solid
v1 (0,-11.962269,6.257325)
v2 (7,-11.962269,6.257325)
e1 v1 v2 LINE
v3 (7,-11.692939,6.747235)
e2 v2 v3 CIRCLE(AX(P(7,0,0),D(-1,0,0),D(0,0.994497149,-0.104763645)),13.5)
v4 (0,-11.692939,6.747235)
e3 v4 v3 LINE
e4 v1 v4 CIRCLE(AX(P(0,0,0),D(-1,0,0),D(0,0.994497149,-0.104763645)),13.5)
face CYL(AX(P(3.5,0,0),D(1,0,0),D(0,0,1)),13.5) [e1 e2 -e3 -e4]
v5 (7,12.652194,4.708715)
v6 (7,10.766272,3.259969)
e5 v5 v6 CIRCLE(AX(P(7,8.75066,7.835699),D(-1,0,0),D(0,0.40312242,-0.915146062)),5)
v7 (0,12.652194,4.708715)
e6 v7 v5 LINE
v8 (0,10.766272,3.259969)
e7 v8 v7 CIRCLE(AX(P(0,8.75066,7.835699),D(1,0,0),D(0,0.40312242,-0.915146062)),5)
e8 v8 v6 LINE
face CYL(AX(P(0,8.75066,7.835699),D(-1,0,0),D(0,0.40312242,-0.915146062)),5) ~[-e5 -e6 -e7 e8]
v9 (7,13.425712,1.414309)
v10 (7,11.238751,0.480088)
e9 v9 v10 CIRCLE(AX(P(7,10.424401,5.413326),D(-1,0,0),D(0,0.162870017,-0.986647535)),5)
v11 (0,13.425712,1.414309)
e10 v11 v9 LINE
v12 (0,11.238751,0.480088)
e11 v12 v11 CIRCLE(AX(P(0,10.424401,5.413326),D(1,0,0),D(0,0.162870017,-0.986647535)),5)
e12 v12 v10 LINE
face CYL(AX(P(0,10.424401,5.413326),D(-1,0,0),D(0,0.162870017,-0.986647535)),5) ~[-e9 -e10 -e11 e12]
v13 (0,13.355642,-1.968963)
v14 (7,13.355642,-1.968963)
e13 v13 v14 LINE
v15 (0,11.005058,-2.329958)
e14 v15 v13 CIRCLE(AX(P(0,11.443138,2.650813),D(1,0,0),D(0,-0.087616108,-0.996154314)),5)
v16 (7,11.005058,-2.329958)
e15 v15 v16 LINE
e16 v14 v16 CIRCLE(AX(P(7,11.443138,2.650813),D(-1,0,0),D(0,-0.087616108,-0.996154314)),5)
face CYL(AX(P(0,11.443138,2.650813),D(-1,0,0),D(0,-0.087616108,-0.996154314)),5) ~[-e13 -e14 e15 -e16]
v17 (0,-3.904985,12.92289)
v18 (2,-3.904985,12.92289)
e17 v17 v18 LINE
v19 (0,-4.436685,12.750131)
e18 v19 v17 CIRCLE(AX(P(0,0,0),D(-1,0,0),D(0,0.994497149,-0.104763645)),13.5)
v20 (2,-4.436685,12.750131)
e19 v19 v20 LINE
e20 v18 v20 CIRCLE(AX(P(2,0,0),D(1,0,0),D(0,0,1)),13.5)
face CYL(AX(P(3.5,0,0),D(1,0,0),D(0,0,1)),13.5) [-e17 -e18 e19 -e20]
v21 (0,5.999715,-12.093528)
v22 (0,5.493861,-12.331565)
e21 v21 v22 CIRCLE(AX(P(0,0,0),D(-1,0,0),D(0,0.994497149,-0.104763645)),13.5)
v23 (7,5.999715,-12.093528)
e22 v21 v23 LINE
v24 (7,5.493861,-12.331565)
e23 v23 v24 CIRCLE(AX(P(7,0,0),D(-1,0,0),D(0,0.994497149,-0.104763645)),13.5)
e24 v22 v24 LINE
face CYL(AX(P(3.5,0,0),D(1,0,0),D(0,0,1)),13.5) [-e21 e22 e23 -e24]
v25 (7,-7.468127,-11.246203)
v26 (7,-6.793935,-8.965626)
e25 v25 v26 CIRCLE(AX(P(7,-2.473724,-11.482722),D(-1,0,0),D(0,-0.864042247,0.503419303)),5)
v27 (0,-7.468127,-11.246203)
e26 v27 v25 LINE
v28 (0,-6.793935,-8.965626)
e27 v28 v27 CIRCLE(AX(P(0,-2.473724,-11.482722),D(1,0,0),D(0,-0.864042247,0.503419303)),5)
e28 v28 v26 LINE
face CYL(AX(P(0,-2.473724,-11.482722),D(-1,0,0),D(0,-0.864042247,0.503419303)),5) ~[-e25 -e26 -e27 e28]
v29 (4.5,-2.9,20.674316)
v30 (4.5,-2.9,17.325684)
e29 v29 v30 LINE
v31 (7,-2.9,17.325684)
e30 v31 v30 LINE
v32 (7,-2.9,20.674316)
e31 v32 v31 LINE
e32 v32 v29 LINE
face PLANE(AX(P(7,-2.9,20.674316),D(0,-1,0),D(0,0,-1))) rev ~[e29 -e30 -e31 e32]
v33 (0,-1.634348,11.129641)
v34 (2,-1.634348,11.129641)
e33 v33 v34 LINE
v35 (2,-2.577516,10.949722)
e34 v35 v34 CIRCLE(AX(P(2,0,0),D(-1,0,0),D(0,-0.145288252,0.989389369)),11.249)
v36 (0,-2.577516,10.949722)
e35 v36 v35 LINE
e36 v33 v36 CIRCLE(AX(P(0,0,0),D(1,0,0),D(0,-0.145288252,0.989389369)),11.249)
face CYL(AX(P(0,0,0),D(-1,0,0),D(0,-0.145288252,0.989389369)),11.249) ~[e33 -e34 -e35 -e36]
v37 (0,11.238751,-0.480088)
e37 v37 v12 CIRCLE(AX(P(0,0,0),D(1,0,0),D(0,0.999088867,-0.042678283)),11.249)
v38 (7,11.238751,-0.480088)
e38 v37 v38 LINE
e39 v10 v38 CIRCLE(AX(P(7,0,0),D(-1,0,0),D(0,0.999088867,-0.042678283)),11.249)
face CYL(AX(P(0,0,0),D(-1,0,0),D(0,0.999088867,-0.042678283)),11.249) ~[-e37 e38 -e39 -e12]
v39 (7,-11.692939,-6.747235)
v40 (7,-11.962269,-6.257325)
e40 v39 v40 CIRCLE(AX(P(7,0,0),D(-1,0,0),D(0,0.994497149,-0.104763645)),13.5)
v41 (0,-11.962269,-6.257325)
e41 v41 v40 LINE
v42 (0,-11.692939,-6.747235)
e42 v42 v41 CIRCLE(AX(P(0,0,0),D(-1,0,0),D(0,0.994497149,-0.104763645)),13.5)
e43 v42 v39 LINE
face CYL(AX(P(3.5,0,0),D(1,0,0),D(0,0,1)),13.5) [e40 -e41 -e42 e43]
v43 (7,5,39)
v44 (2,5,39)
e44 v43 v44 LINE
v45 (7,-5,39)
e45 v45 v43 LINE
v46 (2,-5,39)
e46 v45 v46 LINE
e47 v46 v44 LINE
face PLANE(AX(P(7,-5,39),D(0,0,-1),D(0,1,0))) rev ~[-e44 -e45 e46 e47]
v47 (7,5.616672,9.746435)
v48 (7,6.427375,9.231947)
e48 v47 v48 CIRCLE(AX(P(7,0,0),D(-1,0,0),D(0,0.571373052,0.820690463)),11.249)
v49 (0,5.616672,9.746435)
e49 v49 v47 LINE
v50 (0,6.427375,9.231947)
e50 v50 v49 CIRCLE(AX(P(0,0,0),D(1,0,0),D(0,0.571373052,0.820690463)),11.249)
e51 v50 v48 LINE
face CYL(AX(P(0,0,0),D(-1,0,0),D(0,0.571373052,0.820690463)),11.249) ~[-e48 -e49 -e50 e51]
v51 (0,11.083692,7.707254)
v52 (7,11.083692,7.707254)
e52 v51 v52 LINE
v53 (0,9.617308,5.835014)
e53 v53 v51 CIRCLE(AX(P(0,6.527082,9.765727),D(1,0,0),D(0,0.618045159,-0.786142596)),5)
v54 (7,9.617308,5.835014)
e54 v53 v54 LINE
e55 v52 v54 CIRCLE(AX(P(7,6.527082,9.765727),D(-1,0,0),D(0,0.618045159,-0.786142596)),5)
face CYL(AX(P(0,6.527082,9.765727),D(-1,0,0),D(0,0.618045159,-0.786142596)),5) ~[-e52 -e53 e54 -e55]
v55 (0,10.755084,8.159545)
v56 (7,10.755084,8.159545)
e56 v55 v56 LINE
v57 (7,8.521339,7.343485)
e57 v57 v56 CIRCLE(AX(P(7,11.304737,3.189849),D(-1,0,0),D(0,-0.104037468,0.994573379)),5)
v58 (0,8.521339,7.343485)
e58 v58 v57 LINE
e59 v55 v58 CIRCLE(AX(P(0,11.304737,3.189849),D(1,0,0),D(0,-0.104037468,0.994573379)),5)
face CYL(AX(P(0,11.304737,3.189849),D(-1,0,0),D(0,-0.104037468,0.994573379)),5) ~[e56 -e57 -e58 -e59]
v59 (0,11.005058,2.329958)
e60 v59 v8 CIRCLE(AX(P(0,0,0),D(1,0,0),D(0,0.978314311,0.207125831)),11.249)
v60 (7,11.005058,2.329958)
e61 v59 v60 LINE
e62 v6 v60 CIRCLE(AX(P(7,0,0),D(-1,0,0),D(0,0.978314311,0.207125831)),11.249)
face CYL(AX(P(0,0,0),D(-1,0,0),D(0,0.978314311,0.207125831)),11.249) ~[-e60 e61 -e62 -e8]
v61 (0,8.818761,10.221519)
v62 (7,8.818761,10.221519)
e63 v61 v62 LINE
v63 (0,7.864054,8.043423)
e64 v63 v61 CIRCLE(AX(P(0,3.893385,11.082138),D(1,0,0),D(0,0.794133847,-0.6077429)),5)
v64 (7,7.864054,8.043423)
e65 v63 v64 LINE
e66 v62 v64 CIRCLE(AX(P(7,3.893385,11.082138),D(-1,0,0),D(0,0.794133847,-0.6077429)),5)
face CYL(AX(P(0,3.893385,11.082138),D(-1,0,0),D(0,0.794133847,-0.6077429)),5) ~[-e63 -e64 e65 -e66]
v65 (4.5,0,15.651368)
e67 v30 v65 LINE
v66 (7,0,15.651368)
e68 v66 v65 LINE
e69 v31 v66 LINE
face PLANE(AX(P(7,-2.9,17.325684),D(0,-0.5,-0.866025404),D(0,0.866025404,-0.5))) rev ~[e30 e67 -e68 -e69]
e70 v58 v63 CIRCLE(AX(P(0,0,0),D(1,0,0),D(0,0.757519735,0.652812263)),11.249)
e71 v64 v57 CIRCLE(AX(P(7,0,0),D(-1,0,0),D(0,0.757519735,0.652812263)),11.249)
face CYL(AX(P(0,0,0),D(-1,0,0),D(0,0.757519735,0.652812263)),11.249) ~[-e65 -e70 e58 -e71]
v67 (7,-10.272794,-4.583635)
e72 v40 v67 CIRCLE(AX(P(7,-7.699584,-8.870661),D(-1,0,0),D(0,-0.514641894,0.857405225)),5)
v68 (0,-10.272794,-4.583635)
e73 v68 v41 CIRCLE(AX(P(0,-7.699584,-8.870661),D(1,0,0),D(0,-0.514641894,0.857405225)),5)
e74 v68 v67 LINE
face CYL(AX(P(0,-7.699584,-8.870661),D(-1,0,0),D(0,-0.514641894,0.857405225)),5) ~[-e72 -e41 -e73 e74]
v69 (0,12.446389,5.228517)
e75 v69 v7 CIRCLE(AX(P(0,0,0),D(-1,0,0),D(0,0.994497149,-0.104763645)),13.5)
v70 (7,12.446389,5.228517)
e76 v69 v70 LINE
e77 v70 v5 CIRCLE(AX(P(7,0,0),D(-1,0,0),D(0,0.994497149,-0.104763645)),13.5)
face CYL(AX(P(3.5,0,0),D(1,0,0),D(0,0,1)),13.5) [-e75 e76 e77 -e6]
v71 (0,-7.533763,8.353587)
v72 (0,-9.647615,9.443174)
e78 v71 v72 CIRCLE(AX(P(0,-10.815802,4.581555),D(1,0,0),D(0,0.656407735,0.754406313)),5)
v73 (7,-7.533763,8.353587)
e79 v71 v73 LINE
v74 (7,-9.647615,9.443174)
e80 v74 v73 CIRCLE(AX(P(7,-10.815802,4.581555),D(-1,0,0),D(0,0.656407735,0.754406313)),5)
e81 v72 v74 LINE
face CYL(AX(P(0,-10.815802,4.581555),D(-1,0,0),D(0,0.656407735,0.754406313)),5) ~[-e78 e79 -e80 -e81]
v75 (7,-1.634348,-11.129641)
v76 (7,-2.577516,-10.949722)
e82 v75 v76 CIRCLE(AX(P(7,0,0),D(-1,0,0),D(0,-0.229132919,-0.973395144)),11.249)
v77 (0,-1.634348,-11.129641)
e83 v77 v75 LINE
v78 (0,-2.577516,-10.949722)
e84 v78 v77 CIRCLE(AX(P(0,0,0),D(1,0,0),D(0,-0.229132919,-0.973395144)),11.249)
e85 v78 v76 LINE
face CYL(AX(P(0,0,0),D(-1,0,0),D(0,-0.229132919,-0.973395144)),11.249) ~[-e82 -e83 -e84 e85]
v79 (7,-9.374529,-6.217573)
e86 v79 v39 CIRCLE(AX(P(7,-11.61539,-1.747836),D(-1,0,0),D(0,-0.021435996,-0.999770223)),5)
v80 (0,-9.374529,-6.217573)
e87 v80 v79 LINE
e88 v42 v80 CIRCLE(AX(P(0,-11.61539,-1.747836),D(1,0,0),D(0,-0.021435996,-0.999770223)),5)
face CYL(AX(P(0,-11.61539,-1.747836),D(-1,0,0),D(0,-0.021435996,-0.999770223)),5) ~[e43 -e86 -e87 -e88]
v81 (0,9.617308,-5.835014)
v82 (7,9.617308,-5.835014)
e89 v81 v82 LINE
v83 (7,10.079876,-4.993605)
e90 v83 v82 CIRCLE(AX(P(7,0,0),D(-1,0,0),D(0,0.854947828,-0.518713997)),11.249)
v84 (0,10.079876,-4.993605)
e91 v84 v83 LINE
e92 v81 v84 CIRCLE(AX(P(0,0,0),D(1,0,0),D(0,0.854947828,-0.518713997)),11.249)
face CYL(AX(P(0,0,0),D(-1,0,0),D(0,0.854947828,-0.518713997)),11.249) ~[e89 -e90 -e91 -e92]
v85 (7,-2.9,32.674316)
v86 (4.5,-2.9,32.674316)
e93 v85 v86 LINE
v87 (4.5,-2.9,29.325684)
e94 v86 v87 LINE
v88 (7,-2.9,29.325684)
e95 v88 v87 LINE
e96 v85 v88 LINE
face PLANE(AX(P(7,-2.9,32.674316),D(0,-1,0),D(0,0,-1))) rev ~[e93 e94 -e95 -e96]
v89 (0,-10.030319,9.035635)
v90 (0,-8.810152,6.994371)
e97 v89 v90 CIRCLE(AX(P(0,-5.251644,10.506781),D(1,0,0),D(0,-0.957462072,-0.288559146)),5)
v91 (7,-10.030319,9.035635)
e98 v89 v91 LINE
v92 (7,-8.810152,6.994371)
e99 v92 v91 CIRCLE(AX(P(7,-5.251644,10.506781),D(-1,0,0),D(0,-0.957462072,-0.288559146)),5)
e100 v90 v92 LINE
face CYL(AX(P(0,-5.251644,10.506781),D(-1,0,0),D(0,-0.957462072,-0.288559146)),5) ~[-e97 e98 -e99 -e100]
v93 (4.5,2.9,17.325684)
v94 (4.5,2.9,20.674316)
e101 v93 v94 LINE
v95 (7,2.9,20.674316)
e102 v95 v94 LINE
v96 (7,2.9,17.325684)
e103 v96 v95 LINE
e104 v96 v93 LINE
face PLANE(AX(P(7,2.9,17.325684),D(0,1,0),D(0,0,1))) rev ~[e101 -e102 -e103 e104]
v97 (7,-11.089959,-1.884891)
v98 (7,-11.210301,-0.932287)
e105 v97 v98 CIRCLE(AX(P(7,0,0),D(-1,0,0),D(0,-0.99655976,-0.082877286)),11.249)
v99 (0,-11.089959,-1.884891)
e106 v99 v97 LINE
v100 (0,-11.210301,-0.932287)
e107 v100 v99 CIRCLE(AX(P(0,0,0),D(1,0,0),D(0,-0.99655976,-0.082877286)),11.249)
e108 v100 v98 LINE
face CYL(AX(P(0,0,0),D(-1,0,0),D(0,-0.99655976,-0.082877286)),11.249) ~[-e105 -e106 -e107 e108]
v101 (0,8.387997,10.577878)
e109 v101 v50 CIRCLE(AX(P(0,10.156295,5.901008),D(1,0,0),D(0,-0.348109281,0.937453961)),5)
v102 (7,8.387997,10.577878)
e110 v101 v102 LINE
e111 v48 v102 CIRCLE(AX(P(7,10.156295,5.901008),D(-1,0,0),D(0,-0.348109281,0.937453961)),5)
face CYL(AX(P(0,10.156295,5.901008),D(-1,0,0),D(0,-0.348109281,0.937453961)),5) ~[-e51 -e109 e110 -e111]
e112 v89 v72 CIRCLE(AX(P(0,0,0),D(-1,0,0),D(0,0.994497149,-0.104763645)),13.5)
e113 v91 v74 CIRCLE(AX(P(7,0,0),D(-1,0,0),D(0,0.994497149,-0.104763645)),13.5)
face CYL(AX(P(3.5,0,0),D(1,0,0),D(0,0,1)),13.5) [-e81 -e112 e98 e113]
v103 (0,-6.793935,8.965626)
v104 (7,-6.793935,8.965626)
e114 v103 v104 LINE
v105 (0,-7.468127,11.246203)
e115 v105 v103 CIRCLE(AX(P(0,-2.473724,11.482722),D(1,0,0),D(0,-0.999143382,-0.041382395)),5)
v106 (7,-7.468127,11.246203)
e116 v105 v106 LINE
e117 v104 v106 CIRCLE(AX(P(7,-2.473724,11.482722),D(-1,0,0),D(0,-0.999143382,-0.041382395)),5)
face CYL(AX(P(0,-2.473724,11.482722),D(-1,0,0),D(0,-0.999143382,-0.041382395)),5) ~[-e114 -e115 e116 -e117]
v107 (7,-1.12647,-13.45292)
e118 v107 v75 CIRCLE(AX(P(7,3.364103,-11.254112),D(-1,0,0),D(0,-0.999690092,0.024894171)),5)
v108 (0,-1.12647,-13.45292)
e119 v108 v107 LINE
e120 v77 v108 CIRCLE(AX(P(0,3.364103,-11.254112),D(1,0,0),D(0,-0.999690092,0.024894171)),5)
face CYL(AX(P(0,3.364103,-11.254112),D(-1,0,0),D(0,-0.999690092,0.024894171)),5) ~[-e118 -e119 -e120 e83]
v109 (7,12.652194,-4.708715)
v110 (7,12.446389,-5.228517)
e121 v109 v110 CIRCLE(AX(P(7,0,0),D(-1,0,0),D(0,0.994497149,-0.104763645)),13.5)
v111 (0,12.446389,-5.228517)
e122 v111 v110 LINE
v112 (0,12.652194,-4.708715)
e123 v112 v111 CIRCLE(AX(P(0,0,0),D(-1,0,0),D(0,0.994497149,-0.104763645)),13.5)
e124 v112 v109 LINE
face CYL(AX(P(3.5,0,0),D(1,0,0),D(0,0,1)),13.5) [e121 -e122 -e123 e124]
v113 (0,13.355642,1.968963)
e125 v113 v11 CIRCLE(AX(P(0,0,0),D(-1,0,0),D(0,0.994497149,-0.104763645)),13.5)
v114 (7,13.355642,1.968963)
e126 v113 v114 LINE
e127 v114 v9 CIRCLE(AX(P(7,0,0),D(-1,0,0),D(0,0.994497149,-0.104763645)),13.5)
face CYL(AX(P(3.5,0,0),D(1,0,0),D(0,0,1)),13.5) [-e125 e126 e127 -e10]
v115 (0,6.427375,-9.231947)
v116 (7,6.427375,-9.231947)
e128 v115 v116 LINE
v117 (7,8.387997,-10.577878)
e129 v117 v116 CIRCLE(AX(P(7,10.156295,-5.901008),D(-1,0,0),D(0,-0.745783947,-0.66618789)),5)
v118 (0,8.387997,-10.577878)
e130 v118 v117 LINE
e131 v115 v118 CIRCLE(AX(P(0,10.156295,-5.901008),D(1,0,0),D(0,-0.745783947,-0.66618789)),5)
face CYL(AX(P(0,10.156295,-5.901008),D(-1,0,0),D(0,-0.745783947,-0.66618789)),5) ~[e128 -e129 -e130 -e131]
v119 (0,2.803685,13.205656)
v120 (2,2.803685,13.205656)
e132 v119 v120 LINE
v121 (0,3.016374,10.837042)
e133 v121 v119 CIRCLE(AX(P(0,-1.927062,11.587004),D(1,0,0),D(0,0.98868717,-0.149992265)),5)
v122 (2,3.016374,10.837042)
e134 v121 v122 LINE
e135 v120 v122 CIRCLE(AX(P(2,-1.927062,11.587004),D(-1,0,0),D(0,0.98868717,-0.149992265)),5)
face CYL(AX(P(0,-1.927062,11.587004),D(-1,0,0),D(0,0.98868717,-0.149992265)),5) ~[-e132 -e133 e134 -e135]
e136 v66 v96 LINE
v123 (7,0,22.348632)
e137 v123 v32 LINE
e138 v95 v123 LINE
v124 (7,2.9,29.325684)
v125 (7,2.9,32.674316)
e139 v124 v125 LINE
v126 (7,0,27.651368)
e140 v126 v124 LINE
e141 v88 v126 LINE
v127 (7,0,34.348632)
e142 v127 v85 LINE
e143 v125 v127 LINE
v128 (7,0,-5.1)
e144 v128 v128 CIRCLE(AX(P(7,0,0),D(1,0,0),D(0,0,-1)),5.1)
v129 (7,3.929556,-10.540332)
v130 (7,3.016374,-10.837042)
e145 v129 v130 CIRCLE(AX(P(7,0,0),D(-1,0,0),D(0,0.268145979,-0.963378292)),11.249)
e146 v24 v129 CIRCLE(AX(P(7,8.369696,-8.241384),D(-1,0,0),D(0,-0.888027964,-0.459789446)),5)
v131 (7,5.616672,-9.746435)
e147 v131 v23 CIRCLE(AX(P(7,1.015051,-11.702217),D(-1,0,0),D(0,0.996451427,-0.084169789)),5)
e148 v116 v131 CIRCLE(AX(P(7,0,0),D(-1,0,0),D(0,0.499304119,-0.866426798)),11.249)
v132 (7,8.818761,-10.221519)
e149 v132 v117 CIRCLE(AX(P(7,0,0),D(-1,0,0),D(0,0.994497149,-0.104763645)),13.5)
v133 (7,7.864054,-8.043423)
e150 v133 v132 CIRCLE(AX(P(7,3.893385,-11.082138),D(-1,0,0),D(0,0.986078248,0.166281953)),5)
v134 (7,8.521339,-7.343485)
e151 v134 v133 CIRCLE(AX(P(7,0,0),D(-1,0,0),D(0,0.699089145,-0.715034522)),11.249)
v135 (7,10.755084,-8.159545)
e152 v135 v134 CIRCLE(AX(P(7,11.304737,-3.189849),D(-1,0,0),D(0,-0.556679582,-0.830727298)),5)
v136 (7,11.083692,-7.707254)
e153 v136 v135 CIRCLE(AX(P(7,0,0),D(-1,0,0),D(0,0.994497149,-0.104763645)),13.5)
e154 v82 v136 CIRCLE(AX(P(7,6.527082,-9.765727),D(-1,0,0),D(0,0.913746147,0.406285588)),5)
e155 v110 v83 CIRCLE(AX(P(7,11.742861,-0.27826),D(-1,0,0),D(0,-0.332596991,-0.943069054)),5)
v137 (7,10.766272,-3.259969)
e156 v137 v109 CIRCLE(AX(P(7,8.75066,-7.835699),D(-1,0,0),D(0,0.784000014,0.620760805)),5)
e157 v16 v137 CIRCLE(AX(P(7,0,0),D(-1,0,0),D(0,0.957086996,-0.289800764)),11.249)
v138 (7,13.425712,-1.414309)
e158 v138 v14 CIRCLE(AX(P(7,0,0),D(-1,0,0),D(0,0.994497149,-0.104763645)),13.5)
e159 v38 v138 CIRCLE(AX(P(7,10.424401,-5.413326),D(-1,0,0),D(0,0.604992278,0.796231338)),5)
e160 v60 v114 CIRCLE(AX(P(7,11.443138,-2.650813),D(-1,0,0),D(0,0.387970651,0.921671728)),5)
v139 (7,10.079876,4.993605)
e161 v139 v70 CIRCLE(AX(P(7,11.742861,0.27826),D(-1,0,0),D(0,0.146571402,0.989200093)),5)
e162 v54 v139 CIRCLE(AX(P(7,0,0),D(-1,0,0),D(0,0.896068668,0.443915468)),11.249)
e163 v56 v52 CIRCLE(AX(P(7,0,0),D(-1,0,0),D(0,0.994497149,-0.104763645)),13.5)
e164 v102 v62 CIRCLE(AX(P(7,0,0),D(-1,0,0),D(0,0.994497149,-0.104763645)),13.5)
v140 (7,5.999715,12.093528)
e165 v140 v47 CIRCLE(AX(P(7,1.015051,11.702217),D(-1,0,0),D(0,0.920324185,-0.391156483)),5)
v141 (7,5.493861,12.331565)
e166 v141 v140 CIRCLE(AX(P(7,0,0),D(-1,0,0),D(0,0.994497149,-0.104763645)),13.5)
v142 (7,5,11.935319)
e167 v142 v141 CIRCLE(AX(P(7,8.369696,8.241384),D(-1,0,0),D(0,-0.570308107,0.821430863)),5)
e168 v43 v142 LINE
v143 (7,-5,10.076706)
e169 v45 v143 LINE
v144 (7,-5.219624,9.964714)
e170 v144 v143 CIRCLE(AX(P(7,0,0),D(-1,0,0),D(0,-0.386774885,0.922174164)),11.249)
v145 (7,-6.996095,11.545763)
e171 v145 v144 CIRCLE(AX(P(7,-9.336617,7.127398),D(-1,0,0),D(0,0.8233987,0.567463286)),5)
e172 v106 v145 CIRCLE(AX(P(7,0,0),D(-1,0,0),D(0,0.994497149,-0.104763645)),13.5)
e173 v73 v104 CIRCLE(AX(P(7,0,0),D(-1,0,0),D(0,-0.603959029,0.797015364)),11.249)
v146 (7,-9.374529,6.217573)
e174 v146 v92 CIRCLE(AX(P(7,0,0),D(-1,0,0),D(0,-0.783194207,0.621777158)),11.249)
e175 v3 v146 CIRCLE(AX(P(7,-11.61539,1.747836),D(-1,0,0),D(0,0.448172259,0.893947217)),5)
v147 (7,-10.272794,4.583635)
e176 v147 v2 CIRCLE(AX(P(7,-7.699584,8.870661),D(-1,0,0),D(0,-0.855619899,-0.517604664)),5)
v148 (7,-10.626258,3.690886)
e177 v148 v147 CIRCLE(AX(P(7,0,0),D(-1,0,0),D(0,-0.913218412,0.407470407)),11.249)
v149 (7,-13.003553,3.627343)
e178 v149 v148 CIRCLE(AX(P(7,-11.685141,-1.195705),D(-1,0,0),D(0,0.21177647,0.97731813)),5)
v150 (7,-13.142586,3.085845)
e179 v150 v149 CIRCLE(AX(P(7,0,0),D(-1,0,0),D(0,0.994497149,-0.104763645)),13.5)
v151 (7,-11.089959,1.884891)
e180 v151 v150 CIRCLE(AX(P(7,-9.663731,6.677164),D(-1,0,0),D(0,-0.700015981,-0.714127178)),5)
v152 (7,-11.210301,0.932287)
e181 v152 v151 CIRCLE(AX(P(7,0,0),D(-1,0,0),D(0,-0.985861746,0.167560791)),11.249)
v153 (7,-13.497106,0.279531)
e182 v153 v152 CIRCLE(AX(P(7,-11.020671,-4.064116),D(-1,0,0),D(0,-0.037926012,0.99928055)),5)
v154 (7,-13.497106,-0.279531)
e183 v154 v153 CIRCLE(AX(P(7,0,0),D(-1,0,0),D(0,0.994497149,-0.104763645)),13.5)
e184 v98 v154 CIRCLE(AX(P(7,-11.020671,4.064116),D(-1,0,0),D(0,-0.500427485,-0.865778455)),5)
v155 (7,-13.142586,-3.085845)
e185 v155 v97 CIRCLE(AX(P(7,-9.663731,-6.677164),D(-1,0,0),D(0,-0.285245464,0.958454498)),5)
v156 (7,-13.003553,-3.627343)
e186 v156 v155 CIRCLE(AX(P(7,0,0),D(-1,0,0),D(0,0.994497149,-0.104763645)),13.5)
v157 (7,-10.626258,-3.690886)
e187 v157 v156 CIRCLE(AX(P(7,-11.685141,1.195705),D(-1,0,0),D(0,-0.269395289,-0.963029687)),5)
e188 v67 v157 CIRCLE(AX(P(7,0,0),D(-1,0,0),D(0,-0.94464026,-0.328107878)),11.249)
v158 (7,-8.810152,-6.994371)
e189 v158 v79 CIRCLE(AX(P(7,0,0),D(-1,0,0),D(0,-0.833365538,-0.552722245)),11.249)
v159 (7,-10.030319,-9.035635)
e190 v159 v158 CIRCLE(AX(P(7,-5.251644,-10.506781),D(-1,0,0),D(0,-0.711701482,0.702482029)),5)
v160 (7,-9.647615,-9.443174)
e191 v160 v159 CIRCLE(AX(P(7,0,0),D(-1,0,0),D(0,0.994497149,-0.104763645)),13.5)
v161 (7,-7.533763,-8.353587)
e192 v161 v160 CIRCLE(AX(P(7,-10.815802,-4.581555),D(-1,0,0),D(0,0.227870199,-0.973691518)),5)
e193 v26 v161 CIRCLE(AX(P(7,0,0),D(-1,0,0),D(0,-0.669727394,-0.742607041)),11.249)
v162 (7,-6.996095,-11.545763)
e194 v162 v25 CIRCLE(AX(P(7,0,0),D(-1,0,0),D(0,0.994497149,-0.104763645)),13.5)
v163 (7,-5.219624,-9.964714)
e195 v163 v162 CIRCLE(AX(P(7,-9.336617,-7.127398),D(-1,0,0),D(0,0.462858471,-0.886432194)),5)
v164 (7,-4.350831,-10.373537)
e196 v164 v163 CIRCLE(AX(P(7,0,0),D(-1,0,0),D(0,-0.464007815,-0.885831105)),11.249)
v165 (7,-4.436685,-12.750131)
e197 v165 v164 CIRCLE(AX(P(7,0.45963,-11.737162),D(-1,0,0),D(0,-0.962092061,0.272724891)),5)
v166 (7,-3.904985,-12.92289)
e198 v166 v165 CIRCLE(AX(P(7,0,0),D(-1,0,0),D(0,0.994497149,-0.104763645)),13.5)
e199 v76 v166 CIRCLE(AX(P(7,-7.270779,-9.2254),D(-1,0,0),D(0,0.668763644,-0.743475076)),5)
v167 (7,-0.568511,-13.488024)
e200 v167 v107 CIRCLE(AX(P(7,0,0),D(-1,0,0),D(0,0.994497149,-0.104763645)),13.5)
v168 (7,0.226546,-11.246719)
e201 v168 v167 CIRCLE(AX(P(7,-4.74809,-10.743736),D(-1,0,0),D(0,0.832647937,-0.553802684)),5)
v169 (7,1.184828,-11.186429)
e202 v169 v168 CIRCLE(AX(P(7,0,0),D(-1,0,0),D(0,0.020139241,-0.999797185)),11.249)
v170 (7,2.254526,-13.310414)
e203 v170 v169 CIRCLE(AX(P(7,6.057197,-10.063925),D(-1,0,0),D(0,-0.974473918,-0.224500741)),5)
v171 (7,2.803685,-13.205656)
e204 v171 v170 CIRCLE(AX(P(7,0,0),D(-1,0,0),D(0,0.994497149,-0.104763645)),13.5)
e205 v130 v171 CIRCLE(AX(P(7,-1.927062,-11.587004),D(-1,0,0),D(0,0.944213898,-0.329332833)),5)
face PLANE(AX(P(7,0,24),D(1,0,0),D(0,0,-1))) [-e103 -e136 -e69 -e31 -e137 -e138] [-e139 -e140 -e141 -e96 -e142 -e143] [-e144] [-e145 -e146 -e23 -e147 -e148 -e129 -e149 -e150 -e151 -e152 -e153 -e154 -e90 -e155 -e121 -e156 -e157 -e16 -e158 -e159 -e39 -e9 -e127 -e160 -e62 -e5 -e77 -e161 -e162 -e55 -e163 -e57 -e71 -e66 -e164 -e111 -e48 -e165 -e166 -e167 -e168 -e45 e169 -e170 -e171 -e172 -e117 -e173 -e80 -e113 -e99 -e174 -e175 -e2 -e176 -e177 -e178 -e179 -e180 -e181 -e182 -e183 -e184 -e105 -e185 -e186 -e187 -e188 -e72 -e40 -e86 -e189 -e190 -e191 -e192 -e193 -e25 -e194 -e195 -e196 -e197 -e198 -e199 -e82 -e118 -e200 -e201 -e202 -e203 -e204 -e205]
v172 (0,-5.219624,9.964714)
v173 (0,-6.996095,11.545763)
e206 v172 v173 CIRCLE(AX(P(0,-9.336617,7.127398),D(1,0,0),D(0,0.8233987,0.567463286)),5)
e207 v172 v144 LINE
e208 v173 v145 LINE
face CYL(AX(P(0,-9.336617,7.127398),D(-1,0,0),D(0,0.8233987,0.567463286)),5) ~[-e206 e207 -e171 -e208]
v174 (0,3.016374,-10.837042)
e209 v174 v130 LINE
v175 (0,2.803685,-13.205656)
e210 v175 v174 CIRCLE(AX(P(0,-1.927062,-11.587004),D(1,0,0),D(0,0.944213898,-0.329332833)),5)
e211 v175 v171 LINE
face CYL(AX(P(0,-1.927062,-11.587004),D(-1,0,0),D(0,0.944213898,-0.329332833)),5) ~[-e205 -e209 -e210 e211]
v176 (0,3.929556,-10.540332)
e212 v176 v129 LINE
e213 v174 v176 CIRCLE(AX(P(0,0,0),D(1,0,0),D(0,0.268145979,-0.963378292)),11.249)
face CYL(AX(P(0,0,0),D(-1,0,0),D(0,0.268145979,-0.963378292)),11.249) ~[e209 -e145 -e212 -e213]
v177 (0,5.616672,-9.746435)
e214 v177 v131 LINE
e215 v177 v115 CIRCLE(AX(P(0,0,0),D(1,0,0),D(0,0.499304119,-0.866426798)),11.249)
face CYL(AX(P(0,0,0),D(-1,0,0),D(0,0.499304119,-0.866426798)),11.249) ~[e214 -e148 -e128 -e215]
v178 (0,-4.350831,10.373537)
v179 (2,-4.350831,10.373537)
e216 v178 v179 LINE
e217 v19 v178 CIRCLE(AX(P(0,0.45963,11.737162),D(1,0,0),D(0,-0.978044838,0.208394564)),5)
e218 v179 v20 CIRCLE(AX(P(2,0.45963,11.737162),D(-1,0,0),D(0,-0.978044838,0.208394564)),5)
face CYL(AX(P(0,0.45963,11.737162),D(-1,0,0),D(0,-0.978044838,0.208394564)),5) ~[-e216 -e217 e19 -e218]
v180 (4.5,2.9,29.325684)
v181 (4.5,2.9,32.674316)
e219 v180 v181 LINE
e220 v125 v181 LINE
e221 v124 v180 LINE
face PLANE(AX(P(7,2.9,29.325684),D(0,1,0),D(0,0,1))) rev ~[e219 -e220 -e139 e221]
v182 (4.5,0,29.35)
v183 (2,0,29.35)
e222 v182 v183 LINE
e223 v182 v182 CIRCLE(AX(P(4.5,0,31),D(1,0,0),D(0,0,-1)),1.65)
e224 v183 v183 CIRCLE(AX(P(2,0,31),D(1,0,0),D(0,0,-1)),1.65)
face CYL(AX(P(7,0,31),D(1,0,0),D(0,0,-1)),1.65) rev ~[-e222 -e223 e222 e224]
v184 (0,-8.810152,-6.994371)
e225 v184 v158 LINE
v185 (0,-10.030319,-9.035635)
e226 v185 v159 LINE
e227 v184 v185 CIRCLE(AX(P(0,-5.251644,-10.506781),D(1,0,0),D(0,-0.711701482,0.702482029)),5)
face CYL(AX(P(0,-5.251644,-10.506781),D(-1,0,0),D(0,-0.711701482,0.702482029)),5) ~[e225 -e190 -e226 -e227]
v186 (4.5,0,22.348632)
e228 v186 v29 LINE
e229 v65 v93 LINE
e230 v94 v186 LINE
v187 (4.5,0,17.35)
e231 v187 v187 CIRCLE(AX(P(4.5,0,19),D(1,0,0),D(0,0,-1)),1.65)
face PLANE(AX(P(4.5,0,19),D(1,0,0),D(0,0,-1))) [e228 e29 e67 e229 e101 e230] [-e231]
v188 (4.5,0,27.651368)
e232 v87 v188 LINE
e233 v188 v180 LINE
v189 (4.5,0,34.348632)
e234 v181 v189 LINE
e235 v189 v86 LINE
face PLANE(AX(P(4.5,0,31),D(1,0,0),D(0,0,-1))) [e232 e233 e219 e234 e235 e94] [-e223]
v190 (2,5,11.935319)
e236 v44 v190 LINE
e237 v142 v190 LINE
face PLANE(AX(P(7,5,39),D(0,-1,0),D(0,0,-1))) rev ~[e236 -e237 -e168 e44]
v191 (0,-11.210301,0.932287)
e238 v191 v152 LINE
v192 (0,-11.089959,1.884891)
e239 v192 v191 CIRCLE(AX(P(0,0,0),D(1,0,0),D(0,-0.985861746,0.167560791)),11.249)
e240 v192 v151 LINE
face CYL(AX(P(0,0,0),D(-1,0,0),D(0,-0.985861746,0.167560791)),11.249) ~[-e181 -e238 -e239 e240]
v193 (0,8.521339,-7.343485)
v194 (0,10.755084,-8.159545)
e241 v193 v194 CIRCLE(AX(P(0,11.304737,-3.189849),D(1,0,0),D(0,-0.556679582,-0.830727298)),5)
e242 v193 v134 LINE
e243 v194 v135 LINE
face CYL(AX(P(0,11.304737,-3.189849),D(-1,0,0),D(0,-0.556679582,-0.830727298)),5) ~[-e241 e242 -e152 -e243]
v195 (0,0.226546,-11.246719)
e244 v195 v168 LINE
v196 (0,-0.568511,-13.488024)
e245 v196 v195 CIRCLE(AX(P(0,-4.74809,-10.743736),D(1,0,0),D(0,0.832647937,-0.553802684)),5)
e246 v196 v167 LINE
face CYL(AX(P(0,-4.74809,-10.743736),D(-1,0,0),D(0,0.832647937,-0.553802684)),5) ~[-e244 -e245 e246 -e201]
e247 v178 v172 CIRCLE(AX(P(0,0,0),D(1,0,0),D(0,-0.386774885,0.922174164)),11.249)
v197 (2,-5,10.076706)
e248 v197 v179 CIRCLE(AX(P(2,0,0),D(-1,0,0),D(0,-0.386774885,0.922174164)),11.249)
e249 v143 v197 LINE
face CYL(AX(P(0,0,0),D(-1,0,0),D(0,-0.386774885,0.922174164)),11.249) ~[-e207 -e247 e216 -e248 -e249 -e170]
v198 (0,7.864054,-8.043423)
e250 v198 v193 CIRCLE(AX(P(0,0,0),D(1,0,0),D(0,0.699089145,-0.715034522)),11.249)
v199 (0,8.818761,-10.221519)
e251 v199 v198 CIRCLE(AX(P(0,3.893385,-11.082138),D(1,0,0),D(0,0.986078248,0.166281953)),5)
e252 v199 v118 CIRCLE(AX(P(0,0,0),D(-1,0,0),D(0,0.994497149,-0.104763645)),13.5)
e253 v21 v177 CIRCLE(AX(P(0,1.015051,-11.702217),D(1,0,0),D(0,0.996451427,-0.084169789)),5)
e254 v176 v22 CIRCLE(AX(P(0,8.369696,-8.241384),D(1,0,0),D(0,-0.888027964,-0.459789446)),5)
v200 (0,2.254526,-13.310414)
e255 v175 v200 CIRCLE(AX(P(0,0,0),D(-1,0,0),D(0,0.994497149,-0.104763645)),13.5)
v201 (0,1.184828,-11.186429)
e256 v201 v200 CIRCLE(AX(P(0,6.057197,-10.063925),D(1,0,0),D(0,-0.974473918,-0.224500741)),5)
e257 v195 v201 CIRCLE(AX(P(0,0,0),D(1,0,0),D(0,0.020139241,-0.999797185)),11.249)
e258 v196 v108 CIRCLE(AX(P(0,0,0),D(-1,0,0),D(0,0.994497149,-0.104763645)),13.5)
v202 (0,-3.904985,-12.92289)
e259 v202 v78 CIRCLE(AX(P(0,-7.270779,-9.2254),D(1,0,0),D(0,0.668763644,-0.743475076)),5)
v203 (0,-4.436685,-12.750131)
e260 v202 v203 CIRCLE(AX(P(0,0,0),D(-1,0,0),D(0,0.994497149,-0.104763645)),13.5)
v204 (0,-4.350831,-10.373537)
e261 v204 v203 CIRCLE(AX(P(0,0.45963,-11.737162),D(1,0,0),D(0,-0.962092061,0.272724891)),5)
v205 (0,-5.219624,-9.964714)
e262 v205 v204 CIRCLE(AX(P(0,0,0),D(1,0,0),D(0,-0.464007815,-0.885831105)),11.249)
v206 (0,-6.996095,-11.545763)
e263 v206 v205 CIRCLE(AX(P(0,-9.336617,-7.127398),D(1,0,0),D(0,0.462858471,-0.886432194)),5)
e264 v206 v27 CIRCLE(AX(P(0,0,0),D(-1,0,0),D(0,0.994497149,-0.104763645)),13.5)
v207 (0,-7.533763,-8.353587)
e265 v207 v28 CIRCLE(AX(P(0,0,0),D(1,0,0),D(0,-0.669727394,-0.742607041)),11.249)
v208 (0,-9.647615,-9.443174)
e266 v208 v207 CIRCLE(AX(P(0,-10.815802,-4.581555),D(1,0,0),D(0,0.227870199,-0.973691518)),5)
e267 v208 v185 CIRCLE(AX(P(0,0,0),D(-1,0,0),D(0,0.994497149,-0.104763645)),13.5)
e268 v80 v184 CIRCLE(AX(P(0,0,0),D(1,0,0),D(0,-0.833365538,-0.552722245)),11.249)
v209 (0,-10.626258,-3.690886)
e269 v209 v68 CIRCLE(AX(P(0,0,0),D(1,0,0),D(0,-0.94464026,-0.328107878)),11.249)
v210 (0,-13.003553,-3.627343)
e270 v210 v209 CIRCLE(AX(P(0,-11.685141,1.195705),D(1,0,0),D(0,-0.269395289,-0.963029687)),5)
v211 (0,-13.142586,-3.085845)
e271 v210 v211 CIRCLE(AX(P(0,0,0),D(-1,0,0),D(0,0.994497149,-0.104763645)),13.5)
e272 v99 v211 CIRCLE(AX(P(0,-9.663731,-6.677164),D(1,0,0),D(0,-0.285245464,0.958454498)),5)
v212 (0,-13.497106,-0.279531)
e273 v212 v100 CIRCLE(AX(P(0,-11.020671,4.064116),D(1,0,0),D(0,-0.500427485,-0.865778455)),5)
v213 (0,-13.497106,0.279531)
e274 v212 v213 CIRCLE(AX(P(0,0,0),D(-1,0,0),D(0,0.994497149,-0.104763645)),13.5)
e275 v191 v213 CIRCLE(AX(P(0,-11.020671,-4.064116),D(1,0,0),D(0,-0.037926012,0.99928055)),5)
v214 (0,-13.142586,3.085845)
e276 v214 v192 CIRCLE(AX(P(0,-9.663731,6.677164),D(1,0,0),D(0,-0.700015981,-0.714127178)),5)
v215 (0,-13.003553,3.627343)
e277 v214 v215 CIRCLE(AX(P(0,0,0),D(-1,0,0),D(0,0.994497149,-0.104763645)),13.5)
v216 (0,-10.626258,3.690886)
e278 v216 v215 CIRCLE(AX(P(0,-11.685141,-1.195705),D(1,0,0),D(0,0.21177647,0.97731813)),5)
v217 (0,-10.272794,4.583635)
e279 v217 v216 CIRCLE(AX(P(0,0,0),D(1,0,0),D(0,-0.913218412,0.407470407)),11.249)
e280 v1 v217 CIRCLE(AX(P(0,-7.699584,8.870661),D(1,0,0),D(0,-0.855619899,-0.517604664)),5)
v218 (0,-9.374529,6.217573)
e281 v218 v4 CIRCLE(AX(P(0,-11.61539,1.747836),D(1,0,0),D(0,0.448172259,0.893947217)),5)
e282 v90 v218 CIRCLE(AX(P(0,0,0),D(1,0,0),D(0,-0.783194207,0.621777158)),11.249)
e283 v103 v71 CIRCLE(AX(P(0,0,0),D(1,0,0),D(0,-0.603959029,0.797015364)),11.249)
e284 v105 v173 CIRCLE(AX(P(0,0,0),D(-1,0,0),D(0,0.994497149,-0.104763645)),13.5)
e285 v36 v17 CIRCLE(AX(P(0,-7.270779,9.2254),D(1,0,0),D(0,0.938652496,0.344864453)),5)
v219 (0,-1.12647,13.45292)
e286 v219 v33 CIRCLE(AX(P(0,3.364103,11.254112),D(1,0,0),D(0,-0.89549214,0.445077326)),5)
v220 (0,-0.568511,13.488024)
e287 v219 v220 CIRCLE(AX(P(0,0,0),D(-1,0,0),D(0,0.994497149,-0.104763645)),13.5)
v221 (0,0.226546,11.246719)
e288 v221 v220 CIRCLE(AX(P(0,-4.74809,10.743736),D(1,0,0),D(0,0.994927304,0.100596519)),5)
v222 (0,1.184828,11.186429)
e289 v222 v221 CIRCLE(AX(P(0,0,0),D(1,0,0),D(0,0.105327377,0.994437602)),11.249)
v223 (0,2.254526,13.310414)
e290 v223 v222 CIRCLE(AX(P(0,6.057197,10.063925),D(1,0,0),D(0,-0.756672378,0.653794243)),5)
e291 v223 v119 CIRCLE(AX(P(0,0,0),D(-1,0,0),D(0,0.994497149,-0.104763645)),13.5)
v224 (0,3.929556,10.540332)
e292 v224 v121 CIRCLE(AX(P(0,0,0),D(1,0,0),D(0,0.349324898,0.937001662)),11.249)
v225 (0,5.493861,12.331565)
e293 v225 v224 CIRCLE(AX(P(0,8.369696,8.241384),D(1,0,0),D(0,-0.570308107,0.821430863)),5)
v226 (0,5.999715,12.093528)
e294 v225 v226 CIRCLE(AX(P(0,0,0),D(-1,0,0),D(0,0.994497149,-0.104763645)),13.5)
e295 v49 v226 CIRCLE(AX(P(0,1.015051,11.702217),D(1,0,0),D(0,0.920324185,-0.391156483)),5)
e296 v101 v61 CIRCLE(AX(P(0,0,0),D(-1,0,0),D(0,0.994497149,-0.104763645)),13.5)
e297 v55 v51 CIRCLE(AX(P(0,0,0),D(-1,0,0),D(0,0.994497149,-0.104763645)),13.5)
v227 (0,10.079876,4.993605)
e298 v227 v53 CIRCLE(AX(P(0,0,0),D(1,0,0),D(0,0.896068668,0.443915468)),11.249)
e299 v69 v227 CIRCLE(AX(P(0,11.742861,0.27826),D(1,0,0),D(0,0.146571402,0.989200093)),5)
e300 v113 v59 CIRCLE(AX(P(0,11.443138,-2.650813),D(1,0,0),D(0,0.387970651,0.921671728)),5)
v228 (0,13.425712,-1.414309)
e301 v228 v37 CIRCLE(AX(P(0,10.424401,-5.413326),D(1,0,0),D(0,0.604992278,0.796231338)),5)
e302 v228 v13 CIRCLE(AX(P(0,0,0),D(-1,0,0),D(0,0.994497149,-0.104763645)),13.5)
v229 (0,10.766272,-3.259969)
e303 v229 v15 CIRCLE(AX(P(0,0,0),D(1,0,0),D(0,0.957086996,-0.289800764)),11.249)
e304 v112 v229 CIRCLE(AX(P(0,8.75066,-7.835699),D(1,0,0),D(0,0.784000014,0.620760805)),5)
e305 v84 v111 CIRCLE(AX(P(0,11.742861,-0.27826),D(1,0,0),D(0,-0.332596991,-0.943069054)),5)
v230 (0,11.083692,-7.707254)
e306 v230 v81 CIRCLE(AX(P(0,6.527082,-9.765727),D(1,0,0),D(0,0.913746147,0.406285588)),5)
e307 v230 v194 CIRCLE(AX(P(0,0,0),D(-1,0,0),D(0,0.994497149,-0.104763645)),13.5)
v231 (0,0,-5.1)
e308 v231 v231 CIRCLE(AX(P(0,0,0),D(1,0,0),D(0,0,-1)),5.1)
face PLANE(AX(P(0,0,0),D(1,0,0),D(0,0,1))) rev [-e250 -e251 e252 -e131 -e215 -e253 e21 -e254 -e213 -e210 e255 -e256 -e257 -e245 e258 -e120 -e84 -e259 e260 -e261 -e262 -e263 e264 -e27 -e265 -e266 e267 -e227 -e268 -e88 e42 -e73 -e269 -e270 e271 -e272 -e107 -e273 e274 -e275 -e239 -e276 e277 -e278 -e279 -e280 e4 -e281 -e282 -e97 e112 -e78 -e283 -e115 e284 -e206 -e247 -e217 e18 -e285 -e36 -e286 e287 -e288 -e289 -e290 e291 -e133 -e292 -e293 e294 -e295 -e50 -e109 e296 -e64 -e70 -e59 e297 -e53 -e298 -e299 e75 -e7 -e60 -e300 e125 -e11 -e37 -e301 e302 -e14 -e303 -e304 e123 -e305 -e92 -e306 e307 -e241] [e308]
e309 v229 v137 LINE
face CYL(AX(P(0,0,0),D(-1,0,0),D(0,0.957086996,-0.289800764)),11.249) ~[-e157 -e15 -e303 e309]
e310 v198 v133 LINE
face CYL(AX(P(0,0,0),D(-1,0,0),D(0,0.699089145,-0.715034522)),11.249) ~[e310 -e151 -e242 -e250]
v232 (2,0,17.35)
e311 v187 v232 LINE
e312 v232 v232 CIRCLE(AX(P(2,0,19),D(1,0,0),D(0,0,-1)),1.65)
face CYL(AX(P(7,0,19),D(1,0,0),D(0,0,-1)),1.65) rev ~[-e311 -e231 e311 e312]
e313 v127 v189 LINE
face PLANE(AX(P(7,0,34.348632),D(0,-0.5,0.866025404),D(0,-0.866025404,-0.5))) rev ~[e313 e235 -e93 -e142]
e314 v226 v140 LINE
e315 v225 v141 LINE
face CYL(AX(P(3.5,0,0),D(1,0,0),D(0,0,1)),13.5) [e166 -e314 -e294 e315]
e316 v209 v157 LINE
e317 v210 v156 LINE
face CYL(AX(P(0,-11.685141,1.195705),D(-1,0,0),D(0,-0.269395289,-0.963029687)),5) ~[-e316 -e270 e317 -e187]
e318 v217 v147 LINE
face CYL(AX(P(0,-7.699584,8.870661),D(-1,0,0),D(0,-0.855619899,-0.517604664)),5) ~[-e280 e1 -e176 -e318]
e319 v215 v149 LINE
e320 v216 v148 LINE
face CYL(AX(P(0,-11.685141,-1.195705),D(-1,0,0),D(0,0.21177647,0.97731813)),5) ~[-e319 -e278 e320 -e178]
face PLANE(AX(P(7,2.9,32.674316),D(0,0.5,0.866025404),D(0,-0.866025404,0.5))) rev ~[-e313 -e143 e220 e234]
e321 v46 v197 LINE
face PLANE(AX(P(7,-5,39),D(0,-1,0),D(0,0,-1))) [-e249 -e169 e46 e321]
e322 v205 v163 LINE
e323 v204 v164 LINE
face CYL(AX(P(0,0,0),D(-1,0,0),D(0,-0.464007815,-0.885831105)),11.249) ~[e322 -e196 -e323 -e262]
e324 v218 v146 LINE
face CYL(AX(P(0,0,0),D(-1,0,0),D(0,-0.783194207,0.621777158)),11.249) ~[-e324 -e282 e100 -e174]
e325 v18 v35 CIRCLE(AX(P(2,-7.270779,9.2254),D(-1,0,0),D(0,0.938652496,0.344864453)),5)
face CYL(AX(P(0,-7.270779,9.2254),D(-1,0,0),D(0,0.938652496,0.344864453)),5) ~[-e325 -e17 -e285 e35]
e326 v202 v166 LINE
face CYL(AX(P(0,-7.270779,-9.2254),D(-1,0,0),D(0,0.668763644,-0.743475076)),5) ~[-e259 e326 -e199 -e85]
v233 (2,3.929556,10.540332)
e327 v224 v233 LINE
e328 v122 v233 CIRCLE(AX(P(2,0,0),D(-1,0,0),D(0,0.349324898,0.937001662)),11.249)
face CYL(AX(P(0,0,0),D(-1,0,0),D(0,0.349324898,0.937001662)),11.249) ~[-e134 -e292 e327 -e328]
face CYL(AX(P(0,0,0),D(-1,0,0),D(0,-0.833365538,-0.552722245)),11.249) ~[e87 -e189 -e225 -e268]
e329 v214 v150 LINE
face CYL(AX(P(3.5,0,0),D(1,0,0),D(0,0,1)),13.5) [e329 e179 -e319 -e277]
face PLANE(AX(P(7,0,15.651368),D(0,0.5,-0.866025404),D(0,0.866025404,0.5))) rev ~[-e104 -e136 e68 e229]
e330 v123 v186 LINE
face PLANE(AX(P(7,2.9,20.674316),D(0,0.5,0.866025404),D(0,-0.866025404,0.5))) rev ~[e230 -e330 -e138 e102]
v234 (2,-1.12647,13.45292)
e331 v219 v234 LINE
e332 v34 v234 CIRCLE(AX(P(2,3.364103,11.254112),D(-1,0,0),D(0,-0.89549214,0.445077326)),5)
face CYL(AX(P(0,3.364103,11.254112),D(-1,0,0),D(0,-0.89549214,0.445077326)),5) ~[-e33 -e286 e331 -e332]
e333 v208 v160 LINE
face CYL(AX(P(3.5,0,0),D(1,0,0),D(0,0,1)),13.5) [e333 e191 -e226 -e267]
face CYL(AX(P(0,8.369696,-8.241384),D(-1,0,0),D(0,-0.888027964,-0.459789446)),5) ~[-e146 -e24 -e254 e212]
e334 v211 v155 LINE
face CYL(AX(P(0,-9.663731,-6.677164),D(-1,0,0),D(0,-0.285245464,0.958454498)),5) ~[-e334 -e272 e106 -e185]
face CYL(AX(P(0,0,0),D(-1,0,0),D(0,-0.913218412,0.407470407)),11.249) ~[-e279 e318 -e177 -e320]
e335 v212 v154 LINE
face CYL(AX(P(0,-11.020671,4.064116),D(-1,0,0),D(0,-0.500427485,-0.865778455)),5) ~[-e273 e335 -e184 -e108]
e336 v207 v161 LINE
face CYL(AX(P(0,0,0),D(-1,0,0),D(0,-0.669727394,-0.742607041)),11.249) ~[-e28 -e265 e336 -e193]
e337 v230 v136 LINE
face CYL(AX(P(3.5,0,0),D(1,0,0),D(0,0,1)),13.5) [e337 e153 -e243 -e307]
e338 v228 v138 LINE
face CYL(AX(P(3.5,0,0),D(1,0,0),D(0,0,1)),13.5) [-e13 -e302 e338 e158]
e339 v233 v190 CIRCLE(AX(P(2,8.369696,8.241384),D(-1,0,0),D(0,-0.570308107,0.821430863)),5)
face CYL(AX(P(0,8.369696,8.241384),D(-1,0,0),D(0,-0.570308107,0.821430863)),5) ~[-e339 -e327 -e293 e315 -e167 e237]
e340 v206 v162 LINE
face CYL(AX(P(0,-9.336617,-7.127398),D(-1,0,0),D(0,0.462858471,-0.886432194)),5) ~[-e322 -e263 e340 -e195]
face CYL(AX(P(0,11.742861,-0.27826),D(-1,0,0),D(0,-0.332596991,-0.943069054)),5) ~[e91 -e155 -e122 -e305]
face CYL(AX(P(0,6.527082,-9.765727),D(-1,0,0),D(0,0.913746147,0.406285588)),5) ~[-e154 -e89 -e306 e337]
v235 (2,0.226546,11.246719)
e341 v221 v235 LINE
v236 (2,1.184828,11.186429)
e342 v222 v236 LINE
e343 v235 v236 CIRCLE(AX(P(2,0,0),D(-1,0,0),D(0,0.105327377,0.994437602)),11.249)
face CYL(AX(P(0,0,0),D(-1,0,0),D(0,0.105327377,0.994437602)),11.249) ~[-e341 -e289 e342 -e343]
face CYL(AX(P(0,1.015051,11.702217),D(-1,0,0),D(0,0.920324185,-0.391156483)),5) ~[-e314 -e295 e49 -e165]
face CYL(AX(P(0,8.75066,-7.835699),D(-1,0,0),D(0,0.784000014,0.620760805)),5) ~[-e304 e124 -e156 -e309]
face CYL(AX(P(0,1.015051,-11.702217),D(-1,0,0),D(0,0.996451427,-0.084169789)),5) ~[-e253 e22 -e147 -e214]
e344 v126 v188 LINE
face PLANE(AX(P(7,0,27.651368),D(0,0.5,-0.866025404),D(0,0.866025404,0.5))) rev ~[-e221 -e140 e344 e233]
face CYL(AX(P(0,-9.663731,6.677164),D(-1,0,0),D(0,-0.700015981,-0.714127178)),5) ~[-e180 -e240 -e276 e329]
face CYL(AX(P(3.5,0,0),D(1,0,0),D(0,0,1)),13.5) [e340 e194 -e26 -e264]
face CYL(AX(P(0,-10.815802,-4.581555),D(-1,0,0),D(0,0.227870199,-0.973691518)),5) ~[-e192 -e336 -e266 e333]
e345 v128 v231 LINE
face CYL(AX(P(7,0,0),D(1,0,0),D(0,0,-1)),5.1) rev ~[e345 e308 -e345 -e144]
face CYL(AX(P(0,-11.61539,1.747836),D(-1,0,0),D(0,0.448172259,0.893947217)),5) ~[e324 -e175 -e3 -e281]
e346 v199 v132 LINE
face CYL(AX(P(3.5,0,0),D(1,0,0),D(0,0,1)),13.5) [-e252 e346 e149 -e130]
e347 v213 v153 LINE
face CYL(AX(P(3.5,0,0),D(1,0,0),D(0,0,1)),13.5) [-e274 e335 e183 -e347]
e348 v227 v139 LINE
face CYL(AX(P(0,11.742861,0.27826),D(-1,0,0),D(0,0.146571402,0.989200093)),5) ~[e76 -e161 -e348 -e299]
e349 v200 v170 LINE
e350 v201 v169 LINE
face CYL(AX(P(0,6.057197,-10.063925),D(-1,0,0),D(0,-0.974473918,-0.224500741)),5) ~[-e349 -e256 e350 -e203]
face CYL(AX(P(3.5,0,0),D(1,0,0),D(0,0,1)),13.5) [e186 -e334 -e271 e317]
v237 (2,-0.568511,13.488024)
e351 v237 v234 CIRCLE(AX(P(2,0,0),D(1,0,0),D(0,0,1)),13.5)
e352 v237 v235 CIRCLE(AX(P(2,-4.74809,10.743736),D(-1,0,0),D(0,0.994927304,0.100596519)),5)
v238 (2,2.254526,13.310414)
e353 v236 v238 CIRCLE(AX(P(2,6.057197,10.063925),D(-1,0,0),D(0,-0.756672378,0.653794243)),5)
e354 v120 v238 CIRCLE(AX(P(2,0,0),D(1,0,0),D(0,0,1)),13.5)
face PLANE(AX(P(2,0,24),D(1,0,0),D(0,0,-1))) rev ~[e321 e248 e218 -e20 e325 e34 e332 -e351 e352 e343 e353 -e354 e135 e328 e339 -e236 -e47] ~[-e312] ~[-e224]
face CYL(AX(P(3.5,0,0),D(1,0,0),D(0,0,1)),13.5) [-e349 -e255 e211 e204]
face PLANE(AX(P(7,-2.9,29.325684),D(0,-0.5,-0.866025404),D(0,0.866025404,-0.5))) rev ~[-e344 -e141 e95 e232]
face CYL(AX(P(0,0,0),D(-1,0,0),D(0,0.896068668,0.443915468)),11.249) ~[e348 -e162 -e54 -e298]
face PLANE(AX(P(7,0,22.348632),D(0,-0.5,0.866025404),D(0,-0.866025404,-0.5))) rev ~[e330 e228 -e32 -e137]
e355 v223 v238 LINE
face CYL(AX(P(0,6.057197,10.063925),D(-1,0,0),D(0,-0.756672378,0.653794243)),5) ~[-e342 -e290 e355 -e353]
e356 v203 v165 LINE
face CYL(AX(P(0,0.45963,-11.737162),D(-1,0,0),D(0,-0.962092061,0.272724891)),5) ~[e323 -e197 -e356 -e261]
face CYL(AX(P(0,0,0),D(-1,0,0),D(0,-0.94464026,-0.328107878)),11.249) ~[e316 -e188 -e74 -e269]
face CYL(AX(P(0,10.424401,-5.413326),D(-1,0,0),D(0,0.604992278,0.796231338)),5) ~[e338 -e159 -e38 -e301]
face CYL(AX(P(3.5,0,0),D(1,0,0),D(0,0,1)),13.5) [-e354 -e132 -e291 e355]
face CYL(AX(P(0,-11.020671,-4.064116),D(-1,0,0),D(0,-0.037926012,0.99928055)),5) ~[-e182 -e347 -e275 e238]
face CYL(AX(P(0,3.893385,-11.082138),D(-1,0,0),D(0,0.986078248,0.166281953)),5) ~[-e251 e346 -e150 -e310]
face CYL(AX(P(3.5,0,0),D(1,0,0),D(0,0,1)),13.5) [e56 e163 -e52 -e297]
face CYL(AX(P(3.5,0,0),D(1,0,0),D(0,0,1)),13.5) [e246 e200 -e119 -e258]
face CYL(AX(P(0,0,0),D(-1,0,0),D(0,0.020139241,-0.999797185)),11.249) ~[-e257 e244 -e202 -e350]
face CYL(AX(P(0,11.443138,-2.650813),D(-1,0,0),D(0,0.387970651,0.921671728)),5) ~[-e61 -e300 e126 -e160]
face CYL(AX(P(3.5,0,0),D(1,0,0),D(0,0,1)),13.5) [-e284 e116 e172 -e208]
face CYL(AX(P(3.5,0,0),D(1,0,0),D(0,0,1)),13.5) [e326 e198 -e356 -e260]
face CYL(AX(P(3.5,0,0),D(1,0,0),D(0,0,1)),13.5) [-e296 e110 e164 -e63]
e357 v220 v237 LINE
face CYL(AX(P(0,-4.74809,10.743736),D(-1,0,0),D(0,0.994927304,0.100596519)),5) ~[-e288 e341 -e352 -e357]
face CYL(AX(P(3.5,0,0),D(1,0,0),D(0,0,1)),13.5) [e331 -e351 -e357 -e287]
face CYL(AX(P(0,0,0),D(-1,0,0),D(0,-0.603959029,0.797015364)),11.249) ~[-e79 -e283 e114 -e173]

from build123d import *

# Parameters (mm, degrees)
BASPROSKE_W         = 7
BASPROSKE_H         = 13.5
TOOTHCUT_DEPTH      = 21.334699408
TEETHCUTS_COUNT     = 25
TEETHCUTS_ANGLE     = 345.6
BORSKE_R            = 0.4
BORE_DEPTH          = 50.0000508
SKETCH_1_R          = 5.1
CUT_EXTRUDE_1_DEPTH = 10
SKETCH_2_W          = 30
SKETCH_2_H          = 10
SKETCH_2_R          = 1.65
EXTRUDE_2_DEPTH     = 5
CUT_EXTRUDE_2_DEPTH = 2.5


with BuildPart() as part:
    # BasProSke → Base-Revolve (revolve)
    with BuildSketch(Plane(origin=(0, 0, 0), x_dir=(1, 0, 0), z_dir=(0, 1, 0)), mode=Mode.PRIVATE) as base_revolve_sk:
        with Locations((3.5, 6.75)):
            Rectangle(BASPROSKE_W, BASPROSKE_H)
    revolve(base_revolve_sk.sketch.rotate(Axis((-10, 0, 0), (1, 0, 0)), 180), axis=Axis((-10, 0, 0), (1, 0, 0)))

    # TooCutSke → ToothCut (cut, through all)
    with BuildSketch(Plane(origin=(0, 0, 0), x_dir=(0, 0, -1), z_dir=(1, 0, 0))):
        with BuildLine():
            ThreePointArc((0.480087995, 11.238750665), (0, 11.249), (-0.480087995, 11.238750665))
            ThreePointArc((-0.480087995, 11.238750665), (-0.821124963, 12.40220054), (-1.432168974, 13.449361962))
            ThreePointArc((-1.432168974, 13.449361962), (0, 13.5254), (1.432168974, 13.449361962))
            ThreePointArc((1.432168974, 13.449361962), (0.821124963, 12.40220054), (0.480087995, 11.238750665))
        make_face()
    toothcut = extrude(amount=TOOTHCUT_DEPTH, mode=Mode.SUBTRACT)

    # TeethCuts: ToothCut ×25 about axis
    teethcuts_axis = Axis((-10, 0, 0), (1, 0, 0))
    for i in range(1, TEETHCUTS_COUNT):
        add(toothcut.rotate(teethcuts_axis, i * TEETHCUTS_ANGLE / (TEETHCUTS_COUNT - 1)), mode=Mode.SUBTRACT)

    # BorSke → Bore (cut, symmetric)
    with BuildSketch(Plane(origin=(0, 0, 0), x_dir=(0, 0, -1), z_dir=(1, 0, 0))):
        with Locations(Location((0, 0, 0), (0, 0, 180))):
            Circle(BORSKE_R)
    extrude(amount=BORE_DEPTH, both=True, mode=Mode.SUBTRACT)

    # 草图1 → 切除-拉伸1 (cut)
    with BuildSketch(Plane(origin=(7, 0, 0), x_dir=(0, 0, -1), z_dir=(1, 0, 0))):
        Circle(SKETCH_1_R)
    extrude(amount=-CUT_EXTRUDE_1_DEPTH, mode=Mode.SUBTRACT)

    # 草图2 → 凸台-拉伸2 (add)
    with BuildSketch(Plane(origin=(7, 0, 0), x_dir=(0, 0, -1), z_dir=(1, 0, 0))):
        with Locations((-24, 0)):
            Rectangle(SKETCH_2_W, SKETCH_2_H)
        with Locations((-31, 0)):
            Circle(SKETCH_2_R, mode=Mode.SUBTRACT)
        with Locations((-19, 0)):
            Circle(SKETCH_2_R, mode=Mode.SUBTRACT)
    extrude(amount=-EXTRUDE_2_DEPTH)

    # 草图3 → 切除-拉伸2 (cut)
    with BuildSketch(Plane(origin=(7, 0, 0), x_dir=(0, 0, -1), z_dir=(1, 0, 0))):
        Polygon((-27.651368439, 0), (-29.325684219, 2.9), (-32.674315781, 2.9), (-34.348631561, 0), (-32.674315781, -2.9), (-29.325684219, -2.9), align=None)
        Polygon((-15.651368439, 0), (-17.325684219, 2.9), (-20.674315781, 2.9), (-22.348631561, 0), (-20.674315781, -2.9), (-17.325684219, -2.9), align=None)
    extrude(amount=-CUT_EXTRUDE_2_DEPTH, mode=Mode.SUBTRACT)


solid = part.part
